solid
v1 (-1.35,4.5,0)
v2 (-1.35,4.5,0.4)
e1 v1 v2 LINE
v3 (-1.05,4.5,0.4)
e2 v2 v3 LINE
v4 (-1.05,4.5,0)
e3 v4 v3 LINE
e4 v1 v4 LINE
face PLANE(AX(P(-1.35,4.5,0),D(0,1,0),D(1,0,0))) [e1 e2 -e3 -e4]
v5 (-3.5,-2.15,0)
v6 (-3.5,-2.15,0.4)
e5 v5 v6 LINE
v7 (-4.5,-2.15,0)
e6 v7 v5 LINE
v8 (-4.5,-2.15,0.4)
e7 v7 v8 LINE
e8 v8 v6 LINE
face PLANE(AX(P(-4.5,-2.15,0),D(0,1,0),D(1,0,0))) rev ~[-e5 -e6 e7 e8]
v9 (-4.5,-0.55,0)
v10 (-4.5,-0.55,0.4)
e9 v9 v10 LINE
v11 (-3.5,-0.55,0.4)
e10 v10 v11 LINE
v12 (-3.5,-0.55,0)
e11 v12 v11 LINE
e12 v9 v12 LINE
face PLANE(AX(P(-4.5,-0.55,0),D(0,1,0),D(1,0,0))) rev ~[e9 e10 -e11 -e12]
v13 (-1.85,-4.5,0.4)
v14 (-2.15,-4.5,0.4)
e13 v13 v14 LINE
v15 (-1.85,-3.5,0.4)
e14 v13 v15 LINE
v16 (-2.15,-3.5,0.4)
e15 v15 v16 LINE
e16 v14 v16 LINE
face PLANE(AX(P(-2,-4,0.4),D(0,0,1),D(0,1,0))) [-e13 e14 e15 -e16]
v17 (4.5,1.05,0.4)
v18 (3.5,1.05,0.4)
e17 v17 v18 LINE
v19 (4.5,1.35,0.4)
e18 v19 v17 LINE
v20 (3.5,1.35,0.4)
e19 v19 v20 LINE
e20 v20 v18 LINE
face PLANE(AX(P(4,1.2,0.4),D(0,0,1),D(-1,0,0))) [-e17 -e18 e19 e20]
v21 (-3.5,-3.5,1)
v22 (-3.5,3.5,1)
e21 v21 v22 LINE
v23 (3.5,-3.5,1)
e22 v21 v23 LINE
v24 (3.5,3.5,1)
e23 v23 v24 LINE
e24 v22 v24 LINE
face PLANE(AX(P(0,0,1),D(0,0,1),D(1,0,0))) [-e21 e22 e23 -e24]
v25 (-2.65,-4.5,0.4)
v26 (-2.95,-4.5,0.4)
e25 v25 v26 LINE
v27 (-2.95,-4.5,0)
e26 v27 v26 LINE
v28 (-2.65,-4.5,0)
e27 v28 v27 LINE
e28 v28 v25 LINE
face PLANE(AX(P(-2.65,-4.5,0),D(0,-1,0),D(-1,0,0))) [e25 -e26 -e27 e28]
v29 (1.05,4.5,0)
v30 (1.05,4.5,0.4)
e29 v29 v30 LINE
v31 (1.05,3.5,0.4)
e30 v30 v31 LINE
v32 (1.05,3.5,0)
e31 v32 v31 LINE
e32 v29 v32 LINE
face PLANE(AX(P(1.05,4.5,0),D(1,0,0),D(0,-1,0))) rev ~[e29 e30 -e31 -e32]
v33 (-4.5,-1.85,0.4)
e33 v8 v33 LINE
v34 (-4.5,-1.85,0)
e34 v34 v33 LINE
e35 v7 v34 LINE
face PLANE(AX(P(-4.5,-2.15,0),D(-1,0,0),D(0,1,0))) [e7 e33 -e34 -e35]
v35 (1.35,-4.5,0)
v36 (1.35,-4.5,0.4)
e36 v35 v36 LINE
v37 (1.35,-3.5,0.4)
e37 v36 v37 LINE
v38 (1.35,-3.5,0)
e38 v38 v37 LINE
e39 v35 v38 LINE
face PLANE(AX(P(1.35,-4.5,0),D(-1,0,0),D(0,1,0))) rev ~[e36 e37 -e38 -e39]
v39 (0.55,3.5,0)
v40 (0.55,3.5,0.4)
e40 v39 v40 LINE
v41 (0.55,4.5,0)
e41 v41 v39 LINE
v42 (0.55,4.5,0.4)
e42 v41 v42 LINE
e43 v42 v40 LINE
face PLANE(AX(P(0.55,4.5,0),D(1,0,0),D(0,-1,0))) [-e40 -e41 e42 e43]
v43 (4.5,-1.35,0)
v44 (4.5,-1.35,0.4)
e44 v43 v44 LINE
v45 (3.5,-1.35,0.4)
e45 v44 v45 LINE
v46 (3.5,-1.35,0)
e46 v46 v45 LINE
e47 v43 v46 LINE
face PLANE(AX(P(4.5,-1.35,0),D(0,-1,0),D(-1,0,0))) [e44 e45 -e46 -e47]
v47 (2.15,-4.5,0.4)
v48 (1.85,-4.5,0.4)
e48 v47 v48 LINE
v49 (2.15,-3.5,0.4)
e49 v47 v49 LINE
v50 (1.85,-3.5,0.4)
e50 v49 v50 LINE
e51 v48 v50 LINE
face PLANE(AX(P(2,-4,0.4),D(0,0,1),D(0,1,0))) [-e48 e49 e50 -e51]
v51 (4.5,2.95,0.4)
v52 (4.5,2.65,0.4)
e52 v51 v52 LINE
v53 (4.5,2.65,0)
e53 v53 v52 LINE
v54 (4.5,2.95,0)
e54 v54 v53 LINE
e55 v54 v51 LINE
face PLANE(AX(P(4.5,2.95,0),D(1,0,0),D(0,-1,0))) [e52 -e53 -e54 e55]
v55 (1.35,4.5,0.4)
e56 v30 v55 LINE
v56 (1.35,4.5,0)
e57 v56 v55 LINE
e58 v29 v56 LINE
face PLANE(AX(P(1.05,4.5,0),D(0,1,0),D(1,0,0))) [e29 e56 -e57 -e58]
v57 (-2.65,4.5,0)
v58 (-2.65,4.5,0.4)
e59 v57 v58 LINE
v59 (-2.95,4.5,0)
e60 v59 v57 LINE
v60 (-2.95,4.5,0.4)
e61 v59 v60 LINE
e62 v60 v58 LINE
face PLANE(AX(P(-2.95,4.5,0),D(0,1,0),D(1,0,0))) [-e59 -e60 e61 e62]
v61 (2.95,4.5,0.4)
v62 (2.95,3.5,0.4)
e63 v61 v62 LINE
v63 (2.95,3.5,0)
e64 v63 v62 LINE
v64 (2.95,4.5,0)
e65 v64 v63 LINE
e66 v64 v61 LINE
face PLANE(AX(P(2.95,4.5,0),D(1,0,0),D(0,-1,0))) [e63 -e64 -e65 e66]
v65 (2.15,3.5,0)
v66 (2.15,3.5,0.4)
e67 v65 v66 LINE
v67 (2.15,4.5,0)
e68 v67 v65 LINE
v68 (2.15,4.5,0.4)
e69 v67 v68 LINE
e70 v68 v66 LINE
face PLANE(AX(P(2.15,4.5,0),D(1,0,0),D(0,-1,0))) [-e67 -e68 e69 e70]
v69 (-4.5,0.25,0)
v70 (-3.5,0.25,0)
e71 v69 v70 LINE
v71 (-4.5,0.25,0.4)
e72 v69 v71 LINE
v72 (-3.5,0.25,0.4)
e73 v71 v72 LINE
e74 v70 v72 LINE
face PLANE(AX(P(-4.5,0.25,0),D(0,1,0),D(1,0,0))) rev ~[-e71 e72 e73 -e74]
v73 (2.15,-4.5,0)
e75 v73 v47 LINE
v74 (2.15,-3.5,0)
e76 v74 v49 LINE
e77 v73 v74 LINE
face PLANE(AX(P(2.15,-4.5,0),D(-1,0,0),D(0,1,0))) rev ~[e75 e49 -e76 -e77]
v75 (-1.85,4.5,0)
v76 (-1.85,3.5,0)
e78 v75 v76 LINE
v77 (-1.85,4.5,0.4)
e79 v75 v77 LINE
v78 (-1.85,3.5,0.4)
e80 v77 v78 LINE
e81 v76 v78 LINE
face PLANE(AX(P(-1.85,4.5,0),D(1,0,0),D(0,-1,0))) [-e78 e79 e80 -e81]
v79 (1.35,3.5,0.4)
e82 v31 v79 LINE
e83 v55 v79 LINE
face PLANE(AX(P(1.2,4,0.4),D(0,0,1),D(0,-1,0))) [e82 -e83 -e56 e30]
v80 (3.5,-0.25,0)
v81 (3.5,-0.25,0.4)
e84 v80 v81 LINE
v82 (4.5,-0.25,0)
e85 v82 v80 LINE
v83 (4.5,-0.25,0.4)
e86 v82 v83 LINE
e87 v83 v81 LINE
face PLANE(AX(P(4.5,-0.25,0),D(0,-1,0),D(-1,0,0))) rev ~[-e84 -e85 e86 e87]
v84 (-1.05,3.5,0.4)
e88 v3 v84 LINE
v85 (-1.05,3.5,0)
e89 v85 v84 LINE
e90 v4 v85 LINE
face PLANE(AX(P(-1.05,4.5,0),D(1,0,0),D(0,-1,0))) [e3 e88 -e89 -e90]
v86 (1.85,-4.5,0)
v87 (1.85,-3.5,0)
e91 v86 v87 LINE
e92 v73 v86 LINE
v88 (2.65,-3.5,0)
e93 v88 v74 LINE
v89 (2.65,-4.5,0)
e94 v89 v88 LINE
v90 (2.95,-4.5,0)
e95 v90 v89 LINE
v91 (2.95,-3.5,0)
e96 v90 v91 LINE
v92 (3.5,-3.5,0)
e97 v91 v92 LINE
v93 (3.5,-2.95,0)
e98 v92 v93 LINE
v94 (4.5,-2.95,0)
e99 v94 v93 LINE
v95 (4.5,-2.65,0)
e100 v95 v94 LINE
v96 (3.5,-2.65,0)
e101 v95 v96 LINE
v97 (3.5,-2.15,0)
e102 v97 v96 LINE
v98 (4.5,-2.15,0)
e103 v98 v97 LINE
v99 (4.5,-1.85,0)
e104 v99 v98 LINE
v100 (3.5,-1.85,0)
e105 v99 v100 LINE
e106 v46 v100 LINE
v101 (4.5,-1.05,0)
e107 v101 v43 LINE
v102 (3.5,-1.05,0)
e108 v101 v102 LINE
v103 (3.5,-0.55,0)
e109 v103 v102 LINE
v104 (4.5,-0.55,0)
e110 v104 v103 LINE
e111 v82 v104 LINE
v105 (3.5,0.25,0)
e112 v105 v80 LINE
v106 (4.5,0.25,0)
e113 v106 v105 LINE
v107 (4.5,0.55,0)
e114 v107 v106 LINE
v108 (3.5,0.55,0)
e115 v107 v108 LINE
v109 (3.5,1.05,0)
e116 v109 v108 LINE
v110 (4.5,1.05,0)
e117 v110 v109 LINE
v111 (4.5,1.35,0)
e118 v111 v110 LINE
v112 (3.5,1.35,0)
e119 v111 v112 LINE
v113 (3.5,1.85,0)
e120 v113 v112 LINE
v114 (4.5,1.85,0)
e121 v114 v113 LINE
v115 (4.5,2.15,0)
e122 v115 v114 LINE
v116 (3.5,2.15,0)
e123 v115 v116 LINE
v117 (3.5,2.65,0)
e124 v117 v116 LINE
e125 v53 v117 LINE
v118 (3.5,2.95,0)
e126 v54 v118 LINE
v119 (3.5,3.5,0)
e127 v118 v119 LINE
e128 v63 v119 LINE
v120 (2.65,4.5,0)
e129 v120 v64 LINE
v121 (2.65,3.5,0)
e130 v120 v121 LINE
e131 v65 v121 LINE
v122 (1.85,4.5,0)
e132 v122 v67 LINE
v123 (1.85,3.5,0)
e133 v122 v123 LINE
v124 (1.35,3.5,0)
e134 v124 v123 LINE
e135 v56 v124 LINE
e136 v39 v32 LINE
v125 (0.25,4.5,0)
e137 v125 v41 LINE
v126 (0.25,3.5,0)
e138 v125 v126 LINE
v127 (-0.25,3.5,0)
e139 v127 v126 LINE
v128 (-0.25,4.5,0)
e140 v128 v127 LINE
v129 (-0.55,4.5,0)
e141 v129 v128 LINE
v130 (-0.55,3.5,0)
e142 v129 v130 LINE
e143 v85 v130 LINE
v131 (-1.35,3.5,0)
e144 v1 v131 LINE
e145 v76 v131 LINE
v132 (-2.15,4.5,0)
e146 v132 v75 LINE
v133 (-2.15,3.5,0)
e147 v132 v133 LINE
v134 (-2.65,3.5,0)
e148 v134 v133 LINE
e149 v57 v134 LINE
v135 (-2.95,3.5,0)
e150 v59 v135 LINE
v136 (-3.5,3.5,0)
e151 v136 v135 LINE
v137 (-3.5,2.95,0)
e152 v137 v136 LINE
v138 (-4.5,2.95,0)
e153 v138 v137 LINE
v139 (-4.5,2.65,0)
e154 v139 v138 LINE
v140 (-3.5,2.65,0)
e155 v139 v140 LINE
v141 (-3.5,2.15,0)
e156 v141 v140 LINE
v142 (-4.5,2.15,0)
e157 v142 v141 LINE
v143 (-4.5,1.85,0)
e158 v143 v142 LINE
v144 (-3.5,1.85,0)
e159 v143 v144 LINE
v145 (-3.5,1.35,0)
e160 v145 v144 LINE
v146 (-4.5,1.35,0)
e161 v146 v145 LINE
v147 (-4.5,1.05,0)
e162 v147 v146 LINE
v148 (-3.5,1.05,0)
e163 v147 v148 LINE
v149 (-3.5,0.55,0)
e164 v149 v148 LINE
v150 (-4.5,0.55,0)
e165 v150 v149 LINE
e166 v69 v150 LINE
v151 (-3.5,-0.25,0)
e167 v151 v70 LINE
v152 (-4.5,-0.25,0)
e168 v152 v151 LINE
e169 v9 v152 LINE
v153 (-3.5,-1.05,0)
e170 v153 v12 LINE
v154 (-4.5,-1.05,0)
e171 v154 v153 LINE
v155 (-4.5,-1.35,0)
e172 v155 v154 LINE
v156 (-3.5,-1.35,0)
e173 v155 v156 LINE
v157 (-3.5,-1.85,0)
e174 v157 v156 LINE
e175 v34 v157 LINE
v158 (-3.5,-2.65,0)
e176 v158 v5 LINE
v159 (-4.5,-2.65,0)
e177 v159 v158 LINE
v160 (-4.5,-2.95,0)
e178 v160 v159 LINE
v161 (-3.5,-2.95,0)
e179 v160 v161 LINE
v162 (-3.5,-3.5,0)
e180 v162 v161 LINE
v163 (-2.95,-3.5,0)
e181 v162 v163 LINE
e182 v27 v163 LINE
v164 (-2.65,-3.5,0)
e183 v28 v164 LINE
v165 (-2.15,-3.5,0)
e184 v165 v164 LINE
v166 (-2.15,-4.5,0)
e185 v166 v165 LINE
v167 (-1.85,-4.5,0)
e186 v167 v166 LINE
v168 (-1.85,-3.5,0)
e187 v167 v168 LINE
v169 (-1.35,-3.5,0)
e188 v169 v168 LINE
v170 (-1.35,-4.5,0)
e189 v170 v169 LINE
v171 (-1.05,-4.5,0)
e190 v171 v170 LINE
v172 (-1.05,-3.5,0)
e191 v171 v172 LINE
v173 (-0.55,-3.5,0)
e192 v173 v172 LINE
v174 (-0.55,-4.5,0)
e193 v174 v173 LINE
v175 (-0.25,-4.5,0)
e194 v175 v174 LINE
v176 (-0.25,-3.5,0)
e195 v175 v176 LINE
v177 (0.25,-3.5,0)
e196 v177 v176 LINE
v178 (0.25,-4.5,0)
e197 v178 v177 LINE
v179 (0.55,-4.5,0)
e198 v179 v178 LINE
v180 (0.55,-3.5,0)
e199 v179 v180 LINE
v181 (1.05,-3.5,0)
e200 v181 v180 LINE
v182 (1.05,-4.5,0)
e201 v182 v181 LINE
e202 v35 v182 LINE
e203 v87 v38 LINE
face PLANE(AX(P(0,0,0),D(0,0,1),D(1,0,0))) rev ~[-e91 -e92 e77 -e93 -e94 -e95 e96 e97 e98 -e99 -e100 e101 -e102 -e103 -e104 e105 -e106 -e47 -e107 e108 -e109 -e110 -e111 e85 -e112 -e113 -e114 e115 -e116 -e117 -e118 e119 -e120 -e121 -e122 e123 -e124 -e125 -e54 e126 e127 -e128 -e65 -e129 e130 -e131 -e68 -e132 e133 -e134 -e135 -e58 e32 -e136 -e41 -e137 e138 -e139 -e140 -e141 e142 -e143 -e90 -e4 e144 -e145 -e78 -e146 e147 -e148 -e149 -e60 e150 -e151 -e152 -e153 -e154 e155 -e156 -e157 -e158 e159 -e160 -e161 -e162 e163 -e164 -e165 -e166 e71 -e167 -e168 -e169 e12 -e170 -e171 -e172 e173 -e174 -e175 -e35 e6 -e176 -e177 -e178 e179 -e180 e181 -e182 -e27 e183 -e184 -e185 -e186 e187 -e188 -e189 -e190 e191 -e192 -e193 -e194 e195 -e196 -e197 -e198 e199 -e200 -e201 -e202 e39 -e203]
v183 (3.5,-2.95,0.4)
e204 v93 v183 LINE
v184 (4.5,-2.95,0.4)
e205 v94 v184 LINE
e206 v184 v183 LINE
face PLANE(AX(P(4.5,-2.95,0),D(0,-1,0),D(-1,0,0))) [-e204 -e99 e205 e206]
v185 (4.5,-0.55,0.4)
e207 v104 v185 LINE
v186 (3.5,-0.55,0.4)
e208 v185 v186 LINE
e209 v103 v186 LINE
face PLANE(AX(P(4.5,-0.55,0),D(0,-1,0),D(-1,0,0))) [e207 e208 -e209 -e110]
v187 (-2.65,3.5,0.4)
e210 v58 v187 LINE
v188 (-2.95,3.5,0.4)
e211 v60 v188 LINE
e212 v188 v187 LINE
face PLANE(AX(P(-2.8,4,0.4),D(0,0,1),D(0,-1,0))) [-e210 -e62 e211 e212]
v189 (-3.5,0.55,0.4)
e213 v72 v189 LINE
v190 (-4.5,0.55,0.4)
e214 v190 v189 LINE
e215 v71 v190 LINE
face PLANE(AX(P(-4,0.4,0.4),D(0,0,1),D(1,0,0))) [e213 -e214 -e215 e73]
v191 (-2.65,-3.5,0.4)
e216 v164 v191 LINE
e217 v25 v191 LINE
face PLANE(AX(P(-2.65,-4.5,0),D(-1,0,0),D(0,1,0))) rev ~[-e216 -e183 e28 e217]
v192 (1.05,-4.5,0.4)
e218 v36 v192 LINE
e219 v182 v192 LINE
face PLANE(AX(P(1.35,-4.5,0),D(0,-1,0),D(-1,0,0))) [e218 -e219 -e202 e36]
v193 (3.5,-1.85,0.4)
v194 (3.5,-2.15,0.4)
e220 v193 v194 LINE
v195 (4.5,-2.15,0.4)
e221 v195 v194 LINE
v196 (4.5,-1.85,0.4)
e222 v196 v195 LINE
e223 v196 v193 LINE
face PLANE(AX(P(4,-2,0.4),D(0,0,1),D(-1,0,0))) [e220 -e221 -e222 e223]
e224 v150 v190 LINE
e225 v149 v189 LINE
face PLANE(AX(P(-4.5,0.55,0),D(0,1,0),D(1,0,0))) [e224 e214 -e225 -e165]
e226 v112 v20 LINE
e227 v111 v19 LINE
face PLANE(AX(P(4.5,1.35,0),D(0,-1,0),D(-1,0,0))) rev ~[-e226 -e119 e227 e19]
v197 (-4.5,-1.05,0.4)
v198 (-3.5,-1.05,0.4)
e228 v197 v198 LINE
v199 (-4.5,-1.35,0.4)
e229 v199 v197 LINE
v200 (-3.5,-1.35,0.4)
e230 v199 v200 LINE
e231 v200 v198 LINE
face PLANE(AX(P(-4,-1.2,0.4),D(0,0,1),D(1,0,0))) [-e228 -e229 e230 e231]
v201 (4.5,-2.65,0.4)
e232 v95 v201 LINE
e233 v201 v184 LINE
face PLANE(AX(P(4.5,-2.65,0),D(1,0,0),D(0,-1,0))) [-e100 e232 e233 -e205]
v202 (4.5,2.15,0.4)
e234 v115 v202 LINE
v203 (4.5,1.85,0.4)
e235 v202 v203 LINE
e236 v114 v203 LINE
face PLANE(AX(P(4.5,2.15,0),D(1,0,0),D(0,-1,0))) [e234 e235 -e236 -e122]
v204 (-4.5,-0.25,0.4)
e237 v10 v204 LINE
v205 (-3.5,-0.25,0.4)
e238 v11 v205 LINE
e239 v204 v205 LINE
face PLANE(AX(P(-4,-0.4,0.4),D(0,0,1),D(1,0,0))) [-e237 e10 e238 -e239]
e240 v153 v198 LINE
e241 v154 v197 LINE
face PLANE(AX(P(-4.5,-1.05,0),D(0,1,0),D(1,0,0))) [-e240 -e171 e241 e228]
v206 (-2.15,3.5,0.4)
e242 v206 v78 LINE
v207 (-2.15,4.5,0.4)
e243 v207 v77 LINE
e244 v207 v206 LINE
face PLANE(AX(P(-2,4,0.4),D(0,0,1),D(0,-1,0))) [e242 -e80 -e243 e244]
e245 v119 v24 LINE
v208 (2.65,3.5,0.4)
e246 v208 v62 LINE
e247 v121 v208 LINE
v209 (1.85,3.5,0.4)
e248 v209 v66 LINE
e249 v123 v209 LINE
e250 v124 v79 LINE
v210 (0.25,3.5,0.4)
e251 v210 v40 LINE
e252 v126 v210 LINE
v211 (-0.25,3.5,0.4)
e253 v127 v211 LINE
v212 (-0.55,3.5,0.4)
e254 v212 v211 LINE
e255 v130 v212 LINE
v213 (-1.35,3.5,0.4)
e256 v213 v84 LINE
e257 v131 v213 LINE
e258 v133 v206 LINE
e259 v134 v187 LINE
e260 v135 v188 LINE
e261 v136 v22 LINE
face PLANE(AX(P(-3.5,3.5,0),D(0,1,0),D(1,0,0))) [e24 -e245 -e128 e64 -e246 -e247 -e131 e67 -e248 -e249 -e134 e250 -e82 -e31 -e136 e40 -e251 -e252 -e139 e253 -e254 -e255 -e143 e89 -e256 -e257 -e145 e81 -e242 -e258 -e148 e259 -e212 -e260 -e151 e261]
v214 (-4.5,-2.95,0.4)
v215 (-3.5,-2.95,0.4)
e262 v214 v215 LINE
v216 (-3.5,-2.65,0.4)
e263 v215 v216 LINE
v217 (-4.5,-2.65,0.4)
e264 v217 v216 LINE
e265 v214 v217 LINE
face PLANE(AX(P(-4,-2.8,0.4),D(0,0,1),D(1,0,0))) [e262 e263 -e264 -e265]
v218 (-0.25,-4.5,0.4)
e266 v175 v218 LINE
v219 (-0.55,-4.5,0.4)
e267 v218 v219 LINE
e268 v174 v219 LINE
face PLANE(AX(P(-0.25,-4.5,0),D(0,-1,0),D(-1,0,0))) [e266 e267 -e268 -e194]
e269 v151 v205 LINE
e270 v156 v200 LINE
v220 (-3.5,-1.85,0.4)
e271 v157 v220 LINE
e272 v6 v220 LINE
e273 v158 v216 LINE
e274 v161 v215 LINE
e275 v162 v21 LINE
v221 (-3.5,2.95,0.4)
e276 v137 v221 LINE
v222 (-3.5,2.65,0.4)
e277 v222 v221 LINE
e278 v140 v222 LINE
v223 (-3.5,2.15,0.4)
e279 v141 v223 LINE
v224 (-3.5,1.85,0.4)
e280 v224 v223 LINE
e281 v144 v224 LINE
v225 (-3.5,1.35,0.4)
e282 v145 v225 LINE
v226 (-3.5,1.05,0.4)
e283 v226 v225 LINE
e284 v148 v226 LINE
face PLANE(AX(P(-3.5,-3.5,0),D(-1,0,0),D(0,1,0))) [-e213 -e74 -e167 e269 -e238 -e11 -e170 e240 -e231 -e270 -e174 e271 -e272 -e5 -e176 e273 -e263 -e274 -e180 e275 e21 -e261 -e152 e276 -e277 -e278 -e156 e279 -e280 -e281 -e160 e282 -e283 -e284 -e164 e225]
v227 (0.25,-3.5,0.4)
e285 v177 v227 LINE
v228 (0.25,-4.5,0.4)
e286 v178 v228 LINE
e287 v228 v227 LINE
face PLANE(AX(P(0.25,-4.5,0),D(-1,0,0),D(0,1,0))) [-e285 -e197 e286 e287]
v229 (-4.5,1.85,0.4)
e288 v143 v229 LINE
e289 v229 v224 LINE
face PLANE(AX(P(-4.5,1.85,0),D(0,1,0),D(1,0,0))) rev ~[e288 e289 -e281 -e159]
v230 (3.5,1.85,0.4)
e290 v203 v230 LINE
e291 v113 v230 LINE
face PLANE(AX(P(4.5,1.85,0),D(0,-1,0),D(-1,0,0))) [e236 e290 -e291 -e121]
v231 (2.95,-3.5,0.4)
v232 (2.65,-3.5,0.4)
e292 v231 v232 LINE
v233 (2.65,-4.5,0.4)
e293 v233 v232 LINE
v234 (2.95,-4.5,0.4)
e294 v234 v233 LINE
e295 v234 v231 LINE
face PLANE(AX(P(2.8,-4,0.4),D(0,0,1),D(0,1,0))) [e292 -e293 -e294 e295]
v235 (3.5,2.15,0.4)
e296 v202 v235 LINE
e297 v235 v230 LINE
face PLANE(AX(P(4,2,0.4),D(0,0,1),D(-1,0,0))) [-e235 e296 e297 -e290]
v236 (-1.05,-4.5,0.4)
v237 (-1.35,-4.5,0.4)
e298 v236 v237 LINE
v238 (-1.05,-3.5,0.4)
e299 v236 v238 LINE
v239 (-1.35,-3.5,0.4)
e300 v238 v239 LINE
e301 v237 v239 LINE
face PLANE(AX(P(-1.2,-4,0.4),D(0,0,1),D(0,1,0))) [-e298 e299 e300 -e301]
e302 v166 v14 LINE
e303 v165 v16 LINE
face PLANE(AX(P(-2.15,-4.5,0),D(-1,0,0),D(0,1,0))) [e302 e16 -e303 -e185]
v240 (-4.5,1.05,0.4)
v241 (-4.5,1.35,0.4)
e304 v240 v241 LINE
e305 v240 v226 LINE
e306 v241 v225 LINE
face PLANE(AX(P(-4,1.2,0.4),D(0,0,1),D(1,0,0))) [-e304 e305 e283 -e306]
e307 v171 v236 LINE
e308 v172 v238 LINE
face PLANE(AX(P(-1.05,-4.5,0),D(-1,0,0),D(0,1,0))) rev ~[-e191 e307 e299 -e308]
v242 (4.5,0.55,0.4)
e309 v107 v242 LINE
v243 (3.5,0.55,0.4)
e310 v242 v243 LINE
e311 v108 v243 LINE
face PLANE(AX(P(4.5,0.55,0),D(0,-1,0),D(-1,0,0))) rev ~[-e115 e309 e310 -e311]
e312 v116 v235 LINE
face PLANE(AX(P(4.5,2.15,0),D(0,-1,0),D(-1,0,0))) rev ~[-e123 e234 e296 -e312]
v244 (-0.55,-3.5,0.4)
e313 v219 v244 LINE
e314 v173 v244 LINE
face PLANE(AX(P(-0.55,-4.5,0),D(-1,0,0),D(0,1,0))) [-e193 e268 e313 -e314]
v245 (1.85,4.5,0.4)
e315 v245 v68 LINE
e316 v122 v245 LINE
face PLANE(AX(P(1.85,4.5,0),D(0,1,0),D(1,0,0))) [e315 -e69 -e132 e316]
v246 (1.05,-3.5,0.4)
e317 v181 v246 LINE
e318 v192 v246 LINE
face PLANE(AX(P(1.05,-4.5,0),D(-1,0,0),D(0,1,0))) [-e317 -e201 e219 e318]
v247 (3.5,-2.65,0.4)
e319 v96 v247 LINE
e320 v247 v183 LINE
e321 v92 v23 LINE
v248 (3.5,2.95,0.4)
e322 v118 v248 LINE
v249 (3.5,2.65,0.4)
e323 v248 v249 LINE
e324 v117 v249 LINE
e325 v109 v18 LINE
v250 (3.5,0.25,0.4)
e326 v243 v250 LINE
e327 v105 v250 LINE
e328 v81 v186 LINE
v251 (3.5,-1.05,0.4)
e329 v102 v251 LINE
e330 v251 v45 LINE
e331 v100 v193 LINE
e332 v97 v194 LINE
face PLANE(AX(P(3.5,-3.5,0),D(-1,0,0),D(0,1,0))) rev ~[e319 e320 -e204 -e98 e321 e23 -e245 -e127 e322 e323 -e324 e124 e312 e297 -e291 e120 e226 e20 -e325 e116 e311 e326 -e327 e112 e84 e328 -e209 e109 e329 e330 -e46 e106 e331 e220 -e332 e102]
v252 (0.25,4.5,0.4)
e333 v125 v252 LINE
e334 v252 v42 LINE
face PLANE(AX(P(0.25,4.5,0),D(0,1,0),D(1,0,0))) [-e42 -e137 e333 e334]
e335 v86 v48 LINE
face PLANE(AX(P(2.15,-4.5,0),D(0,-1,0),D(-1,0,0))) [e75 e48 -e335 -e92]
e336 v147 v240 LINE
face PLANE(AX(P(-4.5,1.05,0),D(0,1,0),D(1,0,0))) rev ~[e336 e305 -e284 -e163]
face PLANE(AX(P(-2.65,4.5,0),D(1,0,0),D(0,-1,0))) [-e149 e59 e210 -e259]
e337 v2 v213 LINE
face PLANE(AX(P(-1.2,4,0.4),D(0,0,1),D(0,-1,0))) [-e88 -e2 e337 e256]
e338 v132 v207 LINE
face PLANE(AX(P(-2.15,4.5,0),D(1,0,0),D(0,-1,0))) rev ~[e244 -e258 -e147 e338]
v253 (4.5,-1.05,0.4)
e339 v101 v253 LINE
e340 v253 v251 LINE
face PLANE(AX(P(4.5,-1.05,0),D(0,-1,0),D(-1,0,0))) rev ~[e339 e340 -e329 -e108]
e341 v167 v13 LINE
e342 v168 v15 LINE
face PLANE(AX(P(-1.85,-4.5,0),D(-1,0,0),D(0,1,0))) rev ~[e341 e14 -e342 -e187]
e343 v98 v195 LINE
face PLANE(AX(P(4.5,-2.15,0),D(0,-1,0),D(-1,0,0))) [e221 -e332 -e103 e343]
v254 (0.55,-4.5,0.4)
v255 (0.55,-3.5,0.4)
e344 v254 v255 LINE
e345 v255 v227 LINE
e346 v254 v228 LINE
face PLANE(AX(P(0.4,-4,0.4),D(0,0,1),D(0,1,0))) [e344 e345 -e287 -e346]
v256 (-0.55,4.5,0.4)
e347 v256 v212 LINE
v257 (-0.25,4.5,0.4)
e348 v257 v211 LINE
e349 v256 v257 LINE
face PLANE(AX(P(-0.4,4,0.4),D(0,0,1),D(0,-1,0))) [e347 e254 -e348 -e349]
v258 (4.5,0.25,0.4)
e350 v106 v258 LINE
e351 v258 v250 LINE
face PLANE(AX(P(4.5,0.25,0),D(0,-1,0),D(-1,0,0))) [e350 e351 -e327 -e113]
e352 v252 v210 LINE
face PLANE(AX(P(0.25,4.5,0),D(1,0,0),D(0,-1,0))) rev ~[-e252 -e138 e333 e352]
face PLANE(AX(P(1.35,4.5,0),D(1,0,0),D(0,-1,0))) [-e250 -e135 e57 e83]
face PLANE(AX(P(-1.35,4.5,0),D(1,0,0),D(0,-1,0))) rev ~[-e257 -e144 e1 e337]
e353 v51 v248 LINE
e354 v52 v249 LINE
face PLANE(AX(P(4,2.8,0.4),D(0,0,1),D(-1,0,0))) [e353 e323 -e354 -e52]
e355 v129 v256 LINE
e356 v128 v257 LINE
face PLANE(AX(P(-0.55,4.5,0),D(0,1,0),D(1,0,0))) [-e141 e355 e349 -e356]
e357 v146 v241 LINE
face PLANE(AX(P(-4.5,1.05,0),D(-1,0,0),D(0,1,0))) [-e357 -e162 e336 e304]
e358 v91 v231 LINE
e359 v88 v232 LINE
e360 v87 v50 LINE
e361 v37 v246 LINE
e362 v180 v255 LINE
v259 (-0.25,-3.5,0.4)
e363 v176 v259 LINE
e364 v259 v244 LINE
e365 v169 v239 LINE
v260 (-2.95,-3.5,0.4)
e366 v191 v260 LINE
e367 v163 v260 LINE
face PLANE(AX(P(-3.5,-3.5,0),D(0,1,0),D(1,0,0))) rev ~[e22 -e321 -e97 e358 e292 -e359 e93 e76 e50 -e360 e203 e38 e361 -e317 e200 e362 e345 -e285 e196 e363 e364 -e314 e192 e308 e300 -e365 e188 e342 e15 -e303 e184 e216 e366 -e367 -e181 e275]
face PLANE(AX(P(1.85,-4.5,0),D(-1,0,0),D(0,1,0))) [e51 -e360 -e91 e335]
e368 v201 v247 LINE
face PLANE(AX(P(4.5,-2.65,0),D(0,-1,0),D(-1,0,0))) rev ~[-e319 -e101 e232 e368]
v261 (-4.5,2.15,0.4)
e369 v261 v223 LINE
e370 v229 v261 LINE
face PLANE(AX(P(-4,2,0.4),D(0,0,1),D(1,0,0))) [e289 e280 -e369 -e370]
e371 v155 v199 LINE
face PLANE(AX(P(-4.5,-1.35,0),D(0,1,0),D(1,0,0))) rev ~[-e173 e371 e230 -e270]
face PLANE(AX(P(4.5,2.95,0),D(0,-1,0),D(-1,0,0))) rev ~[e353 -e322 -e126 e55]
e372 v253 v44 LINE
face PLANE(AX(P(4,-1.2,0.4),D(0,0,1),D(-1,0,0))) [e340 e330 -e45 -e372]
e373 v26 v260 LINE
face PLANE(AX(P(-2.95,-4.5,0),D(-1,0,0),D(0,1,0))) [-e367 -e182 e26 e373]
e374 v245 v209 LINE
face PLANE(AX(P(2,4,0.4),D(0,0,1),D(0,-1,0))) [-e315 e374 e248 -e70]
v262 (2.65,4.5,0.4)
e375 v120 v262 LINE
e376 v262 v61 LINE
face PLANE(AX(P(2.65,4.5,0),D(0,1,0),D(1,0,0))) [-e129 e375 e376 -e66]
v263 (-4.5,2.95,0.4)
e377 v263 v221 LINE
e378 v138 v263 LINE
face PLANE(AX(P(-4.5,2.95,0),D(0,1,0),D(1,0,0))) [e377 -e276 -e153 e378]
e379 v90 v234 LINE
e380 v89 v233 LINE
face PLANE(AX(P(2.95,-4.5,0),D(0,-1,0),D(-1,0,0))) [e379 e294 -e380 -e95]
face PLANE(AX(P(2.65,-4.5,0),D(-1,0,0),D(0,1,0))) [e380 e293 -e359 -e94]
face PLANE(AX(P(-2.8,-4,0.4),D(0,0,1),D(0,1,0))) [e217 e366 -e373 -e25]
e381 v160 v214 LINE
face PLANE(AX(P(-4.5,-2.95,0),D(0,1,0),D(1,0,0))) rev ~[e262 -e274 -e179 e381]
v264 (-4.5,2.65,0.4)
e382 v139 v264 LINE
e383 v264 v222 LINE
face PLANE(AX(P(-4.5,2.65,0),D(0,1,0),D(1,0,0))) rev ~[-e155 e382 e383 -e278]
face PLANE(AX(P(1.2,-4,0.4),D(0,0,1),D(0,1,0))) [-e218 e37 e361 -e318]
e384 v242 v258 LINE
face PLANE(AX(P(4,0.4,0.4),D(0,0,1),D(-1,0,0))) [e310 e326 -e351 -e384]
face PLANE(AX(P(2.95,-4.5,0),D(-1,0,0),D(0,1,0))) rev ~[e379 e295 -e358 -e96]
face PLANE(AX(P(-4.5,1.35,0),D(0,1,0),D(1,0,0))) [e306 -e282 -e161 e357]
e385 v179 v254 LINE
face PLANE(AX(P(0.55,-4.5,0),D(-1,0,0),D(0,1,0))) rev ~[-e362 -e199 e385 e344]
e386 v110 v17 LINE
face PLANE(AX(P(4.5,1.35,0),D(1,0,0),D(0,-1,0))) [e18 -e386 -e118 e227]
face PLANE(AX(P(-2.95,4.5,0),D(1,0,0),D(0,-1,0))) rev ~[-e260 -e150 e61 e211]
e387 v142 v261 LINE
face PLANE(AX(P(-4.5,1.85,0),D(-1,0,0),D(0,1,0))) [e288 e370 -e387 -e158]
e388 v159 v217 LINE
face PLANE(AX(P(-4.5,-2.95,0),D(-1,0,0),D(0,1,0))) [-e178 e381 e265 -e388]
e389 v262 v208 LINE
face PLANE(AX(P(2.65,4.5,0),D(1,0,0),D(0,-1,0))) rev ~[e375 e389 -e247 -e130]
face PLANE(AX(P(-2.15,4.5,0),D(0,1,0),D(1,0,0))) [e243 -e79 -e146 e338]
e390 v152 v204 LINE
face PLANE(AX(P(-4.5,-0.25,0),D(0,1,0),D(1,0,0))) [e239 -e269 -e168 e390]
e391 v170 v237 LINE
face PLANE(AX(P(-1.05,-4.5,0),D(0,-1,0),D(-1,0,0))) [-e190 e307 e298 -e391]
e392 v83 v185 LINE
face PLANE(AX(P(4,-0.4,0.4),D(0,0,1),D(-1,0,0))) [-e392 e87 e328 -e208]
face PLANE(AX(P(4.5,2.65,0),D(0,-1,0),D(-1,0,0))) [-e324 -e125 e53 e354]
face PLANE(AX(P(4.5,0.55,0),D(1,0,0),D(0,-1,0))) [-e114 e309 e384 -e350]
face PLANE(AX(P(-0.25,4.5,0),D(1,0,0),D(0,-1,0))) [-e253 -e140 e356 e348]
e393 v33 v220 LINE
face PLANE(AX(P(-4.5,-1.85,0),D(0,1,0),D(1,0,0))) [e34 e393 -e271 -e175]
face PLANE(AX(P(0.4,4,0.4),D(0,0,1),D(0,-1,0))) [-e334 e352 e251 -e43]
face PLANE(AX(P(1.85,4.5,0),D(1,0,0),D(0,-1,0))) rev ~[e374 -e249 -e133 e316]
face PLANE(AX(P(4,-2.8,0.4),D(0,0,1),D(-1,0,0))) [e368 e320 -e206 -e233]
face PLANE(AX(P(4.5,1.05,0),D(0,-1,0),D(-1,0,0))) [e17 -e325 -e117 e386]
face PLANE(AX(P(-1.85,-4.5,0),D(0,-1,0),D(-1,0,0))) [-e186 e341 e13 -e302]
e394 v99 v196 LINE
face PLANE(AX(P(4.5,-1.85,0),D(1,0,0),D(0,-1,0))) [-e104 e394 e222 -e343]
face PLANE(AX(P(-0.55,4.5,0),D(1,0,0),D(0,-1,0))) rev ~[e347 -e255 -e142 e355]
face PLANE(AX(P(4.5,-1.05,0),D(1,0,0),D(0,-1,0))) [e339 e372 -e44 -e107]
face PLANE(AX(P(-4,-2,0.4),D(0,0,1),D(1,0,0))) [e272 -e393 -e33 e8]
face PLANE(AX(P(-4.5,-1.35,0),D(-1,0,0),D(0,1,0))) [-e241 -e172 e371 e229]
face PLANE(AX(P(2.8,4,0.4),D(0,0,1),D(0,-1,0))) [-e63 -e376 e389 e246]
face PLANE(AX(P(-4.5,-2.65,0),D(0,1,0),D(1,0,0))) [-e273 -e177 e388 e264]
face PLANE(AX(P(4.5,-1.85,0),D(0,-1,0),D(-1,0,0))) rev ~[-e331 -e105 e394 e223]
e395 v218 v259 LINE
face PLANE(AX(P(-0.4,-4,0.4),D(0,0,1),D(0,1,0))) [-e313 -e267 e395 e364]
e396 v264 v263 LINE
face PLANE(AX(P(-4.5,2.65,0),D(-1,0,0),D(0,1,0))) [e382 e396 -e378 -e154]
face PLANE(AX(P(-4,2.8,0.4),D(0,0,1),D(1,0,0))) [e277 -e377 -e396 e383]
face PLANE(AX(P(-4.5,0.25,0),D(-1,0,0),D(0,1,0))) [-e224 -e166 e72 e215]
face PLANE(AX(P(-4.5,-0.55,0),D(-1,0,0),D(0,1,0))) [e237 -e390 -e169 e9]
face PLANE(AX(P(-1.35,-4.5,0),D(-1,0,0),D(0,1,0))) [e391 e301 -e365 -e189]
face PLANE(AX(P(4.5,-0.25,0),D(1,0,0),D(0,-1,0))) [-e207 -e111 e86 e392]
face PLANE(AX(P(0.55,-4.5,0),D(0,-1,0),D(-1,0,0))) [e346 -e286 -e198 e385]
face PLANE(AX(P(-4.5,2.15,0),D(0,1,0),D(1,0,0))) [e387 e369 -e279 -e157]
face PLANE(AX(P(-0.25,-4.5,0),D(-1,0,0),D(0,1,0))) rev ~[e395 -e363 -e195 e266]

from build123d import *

# Parameters (mm, degrees)
F0_W     = 7
F0_H     = 7
F1_DEPTH = 1
F2_W     = 1
F2_H     = 0.3
F3_DEPTH = 0.4
F5_COUNT = 4
F5_ANGLE = 270


with BuildPart() as f1:
    # F0 (on Top) → F1 (new body)
    with BuildSketch(Plane.XY):
        Rectangle(F0_W, F0_H)
    extrude(amount=F1_DEPTH)

    # F2 (on Top) → F3 (join)
    with BuildSketch(Plane.XY):
        with Locations((-4, 2.8)):
            Rectangle(F2_W, F2_H)
        with Locations((-4, 2)):
            Rectangle(F2_W, F2_H)
        with Locations((-4, 1.2)):
            Rectangle(F2_W, F2_H)
        with Locations((-4, -1.2)):
            Rectangle(F2_W, F2_H)
        with Locations((-4, 0.4)):
            Rectangle(F2_W, F2_H)
        with Locations((-4, -0.4)):
            Rectangle(F2_W, F2_H)
        with Locations((-4, -2)):
            Rectangle(F2_W, F2_H)
        with Locations((-4, -2.8)):
            Rectangle(F2_W, F2_H)
    extrude(amount=F3_DEPTH)

    # F5: F1 ×4 about axis
    f5_axis = Axis((0, 0, 4.798143), (0, 0, 1))


with BuildPart() as f1_1:
    add(f1.part)
    for i in range(1, F5_COUNT):
        add(f1.part.rotate(f5_axis, i * F5_ANGLE / (F5_COUNT - 1)))


solid = f1_1.part
